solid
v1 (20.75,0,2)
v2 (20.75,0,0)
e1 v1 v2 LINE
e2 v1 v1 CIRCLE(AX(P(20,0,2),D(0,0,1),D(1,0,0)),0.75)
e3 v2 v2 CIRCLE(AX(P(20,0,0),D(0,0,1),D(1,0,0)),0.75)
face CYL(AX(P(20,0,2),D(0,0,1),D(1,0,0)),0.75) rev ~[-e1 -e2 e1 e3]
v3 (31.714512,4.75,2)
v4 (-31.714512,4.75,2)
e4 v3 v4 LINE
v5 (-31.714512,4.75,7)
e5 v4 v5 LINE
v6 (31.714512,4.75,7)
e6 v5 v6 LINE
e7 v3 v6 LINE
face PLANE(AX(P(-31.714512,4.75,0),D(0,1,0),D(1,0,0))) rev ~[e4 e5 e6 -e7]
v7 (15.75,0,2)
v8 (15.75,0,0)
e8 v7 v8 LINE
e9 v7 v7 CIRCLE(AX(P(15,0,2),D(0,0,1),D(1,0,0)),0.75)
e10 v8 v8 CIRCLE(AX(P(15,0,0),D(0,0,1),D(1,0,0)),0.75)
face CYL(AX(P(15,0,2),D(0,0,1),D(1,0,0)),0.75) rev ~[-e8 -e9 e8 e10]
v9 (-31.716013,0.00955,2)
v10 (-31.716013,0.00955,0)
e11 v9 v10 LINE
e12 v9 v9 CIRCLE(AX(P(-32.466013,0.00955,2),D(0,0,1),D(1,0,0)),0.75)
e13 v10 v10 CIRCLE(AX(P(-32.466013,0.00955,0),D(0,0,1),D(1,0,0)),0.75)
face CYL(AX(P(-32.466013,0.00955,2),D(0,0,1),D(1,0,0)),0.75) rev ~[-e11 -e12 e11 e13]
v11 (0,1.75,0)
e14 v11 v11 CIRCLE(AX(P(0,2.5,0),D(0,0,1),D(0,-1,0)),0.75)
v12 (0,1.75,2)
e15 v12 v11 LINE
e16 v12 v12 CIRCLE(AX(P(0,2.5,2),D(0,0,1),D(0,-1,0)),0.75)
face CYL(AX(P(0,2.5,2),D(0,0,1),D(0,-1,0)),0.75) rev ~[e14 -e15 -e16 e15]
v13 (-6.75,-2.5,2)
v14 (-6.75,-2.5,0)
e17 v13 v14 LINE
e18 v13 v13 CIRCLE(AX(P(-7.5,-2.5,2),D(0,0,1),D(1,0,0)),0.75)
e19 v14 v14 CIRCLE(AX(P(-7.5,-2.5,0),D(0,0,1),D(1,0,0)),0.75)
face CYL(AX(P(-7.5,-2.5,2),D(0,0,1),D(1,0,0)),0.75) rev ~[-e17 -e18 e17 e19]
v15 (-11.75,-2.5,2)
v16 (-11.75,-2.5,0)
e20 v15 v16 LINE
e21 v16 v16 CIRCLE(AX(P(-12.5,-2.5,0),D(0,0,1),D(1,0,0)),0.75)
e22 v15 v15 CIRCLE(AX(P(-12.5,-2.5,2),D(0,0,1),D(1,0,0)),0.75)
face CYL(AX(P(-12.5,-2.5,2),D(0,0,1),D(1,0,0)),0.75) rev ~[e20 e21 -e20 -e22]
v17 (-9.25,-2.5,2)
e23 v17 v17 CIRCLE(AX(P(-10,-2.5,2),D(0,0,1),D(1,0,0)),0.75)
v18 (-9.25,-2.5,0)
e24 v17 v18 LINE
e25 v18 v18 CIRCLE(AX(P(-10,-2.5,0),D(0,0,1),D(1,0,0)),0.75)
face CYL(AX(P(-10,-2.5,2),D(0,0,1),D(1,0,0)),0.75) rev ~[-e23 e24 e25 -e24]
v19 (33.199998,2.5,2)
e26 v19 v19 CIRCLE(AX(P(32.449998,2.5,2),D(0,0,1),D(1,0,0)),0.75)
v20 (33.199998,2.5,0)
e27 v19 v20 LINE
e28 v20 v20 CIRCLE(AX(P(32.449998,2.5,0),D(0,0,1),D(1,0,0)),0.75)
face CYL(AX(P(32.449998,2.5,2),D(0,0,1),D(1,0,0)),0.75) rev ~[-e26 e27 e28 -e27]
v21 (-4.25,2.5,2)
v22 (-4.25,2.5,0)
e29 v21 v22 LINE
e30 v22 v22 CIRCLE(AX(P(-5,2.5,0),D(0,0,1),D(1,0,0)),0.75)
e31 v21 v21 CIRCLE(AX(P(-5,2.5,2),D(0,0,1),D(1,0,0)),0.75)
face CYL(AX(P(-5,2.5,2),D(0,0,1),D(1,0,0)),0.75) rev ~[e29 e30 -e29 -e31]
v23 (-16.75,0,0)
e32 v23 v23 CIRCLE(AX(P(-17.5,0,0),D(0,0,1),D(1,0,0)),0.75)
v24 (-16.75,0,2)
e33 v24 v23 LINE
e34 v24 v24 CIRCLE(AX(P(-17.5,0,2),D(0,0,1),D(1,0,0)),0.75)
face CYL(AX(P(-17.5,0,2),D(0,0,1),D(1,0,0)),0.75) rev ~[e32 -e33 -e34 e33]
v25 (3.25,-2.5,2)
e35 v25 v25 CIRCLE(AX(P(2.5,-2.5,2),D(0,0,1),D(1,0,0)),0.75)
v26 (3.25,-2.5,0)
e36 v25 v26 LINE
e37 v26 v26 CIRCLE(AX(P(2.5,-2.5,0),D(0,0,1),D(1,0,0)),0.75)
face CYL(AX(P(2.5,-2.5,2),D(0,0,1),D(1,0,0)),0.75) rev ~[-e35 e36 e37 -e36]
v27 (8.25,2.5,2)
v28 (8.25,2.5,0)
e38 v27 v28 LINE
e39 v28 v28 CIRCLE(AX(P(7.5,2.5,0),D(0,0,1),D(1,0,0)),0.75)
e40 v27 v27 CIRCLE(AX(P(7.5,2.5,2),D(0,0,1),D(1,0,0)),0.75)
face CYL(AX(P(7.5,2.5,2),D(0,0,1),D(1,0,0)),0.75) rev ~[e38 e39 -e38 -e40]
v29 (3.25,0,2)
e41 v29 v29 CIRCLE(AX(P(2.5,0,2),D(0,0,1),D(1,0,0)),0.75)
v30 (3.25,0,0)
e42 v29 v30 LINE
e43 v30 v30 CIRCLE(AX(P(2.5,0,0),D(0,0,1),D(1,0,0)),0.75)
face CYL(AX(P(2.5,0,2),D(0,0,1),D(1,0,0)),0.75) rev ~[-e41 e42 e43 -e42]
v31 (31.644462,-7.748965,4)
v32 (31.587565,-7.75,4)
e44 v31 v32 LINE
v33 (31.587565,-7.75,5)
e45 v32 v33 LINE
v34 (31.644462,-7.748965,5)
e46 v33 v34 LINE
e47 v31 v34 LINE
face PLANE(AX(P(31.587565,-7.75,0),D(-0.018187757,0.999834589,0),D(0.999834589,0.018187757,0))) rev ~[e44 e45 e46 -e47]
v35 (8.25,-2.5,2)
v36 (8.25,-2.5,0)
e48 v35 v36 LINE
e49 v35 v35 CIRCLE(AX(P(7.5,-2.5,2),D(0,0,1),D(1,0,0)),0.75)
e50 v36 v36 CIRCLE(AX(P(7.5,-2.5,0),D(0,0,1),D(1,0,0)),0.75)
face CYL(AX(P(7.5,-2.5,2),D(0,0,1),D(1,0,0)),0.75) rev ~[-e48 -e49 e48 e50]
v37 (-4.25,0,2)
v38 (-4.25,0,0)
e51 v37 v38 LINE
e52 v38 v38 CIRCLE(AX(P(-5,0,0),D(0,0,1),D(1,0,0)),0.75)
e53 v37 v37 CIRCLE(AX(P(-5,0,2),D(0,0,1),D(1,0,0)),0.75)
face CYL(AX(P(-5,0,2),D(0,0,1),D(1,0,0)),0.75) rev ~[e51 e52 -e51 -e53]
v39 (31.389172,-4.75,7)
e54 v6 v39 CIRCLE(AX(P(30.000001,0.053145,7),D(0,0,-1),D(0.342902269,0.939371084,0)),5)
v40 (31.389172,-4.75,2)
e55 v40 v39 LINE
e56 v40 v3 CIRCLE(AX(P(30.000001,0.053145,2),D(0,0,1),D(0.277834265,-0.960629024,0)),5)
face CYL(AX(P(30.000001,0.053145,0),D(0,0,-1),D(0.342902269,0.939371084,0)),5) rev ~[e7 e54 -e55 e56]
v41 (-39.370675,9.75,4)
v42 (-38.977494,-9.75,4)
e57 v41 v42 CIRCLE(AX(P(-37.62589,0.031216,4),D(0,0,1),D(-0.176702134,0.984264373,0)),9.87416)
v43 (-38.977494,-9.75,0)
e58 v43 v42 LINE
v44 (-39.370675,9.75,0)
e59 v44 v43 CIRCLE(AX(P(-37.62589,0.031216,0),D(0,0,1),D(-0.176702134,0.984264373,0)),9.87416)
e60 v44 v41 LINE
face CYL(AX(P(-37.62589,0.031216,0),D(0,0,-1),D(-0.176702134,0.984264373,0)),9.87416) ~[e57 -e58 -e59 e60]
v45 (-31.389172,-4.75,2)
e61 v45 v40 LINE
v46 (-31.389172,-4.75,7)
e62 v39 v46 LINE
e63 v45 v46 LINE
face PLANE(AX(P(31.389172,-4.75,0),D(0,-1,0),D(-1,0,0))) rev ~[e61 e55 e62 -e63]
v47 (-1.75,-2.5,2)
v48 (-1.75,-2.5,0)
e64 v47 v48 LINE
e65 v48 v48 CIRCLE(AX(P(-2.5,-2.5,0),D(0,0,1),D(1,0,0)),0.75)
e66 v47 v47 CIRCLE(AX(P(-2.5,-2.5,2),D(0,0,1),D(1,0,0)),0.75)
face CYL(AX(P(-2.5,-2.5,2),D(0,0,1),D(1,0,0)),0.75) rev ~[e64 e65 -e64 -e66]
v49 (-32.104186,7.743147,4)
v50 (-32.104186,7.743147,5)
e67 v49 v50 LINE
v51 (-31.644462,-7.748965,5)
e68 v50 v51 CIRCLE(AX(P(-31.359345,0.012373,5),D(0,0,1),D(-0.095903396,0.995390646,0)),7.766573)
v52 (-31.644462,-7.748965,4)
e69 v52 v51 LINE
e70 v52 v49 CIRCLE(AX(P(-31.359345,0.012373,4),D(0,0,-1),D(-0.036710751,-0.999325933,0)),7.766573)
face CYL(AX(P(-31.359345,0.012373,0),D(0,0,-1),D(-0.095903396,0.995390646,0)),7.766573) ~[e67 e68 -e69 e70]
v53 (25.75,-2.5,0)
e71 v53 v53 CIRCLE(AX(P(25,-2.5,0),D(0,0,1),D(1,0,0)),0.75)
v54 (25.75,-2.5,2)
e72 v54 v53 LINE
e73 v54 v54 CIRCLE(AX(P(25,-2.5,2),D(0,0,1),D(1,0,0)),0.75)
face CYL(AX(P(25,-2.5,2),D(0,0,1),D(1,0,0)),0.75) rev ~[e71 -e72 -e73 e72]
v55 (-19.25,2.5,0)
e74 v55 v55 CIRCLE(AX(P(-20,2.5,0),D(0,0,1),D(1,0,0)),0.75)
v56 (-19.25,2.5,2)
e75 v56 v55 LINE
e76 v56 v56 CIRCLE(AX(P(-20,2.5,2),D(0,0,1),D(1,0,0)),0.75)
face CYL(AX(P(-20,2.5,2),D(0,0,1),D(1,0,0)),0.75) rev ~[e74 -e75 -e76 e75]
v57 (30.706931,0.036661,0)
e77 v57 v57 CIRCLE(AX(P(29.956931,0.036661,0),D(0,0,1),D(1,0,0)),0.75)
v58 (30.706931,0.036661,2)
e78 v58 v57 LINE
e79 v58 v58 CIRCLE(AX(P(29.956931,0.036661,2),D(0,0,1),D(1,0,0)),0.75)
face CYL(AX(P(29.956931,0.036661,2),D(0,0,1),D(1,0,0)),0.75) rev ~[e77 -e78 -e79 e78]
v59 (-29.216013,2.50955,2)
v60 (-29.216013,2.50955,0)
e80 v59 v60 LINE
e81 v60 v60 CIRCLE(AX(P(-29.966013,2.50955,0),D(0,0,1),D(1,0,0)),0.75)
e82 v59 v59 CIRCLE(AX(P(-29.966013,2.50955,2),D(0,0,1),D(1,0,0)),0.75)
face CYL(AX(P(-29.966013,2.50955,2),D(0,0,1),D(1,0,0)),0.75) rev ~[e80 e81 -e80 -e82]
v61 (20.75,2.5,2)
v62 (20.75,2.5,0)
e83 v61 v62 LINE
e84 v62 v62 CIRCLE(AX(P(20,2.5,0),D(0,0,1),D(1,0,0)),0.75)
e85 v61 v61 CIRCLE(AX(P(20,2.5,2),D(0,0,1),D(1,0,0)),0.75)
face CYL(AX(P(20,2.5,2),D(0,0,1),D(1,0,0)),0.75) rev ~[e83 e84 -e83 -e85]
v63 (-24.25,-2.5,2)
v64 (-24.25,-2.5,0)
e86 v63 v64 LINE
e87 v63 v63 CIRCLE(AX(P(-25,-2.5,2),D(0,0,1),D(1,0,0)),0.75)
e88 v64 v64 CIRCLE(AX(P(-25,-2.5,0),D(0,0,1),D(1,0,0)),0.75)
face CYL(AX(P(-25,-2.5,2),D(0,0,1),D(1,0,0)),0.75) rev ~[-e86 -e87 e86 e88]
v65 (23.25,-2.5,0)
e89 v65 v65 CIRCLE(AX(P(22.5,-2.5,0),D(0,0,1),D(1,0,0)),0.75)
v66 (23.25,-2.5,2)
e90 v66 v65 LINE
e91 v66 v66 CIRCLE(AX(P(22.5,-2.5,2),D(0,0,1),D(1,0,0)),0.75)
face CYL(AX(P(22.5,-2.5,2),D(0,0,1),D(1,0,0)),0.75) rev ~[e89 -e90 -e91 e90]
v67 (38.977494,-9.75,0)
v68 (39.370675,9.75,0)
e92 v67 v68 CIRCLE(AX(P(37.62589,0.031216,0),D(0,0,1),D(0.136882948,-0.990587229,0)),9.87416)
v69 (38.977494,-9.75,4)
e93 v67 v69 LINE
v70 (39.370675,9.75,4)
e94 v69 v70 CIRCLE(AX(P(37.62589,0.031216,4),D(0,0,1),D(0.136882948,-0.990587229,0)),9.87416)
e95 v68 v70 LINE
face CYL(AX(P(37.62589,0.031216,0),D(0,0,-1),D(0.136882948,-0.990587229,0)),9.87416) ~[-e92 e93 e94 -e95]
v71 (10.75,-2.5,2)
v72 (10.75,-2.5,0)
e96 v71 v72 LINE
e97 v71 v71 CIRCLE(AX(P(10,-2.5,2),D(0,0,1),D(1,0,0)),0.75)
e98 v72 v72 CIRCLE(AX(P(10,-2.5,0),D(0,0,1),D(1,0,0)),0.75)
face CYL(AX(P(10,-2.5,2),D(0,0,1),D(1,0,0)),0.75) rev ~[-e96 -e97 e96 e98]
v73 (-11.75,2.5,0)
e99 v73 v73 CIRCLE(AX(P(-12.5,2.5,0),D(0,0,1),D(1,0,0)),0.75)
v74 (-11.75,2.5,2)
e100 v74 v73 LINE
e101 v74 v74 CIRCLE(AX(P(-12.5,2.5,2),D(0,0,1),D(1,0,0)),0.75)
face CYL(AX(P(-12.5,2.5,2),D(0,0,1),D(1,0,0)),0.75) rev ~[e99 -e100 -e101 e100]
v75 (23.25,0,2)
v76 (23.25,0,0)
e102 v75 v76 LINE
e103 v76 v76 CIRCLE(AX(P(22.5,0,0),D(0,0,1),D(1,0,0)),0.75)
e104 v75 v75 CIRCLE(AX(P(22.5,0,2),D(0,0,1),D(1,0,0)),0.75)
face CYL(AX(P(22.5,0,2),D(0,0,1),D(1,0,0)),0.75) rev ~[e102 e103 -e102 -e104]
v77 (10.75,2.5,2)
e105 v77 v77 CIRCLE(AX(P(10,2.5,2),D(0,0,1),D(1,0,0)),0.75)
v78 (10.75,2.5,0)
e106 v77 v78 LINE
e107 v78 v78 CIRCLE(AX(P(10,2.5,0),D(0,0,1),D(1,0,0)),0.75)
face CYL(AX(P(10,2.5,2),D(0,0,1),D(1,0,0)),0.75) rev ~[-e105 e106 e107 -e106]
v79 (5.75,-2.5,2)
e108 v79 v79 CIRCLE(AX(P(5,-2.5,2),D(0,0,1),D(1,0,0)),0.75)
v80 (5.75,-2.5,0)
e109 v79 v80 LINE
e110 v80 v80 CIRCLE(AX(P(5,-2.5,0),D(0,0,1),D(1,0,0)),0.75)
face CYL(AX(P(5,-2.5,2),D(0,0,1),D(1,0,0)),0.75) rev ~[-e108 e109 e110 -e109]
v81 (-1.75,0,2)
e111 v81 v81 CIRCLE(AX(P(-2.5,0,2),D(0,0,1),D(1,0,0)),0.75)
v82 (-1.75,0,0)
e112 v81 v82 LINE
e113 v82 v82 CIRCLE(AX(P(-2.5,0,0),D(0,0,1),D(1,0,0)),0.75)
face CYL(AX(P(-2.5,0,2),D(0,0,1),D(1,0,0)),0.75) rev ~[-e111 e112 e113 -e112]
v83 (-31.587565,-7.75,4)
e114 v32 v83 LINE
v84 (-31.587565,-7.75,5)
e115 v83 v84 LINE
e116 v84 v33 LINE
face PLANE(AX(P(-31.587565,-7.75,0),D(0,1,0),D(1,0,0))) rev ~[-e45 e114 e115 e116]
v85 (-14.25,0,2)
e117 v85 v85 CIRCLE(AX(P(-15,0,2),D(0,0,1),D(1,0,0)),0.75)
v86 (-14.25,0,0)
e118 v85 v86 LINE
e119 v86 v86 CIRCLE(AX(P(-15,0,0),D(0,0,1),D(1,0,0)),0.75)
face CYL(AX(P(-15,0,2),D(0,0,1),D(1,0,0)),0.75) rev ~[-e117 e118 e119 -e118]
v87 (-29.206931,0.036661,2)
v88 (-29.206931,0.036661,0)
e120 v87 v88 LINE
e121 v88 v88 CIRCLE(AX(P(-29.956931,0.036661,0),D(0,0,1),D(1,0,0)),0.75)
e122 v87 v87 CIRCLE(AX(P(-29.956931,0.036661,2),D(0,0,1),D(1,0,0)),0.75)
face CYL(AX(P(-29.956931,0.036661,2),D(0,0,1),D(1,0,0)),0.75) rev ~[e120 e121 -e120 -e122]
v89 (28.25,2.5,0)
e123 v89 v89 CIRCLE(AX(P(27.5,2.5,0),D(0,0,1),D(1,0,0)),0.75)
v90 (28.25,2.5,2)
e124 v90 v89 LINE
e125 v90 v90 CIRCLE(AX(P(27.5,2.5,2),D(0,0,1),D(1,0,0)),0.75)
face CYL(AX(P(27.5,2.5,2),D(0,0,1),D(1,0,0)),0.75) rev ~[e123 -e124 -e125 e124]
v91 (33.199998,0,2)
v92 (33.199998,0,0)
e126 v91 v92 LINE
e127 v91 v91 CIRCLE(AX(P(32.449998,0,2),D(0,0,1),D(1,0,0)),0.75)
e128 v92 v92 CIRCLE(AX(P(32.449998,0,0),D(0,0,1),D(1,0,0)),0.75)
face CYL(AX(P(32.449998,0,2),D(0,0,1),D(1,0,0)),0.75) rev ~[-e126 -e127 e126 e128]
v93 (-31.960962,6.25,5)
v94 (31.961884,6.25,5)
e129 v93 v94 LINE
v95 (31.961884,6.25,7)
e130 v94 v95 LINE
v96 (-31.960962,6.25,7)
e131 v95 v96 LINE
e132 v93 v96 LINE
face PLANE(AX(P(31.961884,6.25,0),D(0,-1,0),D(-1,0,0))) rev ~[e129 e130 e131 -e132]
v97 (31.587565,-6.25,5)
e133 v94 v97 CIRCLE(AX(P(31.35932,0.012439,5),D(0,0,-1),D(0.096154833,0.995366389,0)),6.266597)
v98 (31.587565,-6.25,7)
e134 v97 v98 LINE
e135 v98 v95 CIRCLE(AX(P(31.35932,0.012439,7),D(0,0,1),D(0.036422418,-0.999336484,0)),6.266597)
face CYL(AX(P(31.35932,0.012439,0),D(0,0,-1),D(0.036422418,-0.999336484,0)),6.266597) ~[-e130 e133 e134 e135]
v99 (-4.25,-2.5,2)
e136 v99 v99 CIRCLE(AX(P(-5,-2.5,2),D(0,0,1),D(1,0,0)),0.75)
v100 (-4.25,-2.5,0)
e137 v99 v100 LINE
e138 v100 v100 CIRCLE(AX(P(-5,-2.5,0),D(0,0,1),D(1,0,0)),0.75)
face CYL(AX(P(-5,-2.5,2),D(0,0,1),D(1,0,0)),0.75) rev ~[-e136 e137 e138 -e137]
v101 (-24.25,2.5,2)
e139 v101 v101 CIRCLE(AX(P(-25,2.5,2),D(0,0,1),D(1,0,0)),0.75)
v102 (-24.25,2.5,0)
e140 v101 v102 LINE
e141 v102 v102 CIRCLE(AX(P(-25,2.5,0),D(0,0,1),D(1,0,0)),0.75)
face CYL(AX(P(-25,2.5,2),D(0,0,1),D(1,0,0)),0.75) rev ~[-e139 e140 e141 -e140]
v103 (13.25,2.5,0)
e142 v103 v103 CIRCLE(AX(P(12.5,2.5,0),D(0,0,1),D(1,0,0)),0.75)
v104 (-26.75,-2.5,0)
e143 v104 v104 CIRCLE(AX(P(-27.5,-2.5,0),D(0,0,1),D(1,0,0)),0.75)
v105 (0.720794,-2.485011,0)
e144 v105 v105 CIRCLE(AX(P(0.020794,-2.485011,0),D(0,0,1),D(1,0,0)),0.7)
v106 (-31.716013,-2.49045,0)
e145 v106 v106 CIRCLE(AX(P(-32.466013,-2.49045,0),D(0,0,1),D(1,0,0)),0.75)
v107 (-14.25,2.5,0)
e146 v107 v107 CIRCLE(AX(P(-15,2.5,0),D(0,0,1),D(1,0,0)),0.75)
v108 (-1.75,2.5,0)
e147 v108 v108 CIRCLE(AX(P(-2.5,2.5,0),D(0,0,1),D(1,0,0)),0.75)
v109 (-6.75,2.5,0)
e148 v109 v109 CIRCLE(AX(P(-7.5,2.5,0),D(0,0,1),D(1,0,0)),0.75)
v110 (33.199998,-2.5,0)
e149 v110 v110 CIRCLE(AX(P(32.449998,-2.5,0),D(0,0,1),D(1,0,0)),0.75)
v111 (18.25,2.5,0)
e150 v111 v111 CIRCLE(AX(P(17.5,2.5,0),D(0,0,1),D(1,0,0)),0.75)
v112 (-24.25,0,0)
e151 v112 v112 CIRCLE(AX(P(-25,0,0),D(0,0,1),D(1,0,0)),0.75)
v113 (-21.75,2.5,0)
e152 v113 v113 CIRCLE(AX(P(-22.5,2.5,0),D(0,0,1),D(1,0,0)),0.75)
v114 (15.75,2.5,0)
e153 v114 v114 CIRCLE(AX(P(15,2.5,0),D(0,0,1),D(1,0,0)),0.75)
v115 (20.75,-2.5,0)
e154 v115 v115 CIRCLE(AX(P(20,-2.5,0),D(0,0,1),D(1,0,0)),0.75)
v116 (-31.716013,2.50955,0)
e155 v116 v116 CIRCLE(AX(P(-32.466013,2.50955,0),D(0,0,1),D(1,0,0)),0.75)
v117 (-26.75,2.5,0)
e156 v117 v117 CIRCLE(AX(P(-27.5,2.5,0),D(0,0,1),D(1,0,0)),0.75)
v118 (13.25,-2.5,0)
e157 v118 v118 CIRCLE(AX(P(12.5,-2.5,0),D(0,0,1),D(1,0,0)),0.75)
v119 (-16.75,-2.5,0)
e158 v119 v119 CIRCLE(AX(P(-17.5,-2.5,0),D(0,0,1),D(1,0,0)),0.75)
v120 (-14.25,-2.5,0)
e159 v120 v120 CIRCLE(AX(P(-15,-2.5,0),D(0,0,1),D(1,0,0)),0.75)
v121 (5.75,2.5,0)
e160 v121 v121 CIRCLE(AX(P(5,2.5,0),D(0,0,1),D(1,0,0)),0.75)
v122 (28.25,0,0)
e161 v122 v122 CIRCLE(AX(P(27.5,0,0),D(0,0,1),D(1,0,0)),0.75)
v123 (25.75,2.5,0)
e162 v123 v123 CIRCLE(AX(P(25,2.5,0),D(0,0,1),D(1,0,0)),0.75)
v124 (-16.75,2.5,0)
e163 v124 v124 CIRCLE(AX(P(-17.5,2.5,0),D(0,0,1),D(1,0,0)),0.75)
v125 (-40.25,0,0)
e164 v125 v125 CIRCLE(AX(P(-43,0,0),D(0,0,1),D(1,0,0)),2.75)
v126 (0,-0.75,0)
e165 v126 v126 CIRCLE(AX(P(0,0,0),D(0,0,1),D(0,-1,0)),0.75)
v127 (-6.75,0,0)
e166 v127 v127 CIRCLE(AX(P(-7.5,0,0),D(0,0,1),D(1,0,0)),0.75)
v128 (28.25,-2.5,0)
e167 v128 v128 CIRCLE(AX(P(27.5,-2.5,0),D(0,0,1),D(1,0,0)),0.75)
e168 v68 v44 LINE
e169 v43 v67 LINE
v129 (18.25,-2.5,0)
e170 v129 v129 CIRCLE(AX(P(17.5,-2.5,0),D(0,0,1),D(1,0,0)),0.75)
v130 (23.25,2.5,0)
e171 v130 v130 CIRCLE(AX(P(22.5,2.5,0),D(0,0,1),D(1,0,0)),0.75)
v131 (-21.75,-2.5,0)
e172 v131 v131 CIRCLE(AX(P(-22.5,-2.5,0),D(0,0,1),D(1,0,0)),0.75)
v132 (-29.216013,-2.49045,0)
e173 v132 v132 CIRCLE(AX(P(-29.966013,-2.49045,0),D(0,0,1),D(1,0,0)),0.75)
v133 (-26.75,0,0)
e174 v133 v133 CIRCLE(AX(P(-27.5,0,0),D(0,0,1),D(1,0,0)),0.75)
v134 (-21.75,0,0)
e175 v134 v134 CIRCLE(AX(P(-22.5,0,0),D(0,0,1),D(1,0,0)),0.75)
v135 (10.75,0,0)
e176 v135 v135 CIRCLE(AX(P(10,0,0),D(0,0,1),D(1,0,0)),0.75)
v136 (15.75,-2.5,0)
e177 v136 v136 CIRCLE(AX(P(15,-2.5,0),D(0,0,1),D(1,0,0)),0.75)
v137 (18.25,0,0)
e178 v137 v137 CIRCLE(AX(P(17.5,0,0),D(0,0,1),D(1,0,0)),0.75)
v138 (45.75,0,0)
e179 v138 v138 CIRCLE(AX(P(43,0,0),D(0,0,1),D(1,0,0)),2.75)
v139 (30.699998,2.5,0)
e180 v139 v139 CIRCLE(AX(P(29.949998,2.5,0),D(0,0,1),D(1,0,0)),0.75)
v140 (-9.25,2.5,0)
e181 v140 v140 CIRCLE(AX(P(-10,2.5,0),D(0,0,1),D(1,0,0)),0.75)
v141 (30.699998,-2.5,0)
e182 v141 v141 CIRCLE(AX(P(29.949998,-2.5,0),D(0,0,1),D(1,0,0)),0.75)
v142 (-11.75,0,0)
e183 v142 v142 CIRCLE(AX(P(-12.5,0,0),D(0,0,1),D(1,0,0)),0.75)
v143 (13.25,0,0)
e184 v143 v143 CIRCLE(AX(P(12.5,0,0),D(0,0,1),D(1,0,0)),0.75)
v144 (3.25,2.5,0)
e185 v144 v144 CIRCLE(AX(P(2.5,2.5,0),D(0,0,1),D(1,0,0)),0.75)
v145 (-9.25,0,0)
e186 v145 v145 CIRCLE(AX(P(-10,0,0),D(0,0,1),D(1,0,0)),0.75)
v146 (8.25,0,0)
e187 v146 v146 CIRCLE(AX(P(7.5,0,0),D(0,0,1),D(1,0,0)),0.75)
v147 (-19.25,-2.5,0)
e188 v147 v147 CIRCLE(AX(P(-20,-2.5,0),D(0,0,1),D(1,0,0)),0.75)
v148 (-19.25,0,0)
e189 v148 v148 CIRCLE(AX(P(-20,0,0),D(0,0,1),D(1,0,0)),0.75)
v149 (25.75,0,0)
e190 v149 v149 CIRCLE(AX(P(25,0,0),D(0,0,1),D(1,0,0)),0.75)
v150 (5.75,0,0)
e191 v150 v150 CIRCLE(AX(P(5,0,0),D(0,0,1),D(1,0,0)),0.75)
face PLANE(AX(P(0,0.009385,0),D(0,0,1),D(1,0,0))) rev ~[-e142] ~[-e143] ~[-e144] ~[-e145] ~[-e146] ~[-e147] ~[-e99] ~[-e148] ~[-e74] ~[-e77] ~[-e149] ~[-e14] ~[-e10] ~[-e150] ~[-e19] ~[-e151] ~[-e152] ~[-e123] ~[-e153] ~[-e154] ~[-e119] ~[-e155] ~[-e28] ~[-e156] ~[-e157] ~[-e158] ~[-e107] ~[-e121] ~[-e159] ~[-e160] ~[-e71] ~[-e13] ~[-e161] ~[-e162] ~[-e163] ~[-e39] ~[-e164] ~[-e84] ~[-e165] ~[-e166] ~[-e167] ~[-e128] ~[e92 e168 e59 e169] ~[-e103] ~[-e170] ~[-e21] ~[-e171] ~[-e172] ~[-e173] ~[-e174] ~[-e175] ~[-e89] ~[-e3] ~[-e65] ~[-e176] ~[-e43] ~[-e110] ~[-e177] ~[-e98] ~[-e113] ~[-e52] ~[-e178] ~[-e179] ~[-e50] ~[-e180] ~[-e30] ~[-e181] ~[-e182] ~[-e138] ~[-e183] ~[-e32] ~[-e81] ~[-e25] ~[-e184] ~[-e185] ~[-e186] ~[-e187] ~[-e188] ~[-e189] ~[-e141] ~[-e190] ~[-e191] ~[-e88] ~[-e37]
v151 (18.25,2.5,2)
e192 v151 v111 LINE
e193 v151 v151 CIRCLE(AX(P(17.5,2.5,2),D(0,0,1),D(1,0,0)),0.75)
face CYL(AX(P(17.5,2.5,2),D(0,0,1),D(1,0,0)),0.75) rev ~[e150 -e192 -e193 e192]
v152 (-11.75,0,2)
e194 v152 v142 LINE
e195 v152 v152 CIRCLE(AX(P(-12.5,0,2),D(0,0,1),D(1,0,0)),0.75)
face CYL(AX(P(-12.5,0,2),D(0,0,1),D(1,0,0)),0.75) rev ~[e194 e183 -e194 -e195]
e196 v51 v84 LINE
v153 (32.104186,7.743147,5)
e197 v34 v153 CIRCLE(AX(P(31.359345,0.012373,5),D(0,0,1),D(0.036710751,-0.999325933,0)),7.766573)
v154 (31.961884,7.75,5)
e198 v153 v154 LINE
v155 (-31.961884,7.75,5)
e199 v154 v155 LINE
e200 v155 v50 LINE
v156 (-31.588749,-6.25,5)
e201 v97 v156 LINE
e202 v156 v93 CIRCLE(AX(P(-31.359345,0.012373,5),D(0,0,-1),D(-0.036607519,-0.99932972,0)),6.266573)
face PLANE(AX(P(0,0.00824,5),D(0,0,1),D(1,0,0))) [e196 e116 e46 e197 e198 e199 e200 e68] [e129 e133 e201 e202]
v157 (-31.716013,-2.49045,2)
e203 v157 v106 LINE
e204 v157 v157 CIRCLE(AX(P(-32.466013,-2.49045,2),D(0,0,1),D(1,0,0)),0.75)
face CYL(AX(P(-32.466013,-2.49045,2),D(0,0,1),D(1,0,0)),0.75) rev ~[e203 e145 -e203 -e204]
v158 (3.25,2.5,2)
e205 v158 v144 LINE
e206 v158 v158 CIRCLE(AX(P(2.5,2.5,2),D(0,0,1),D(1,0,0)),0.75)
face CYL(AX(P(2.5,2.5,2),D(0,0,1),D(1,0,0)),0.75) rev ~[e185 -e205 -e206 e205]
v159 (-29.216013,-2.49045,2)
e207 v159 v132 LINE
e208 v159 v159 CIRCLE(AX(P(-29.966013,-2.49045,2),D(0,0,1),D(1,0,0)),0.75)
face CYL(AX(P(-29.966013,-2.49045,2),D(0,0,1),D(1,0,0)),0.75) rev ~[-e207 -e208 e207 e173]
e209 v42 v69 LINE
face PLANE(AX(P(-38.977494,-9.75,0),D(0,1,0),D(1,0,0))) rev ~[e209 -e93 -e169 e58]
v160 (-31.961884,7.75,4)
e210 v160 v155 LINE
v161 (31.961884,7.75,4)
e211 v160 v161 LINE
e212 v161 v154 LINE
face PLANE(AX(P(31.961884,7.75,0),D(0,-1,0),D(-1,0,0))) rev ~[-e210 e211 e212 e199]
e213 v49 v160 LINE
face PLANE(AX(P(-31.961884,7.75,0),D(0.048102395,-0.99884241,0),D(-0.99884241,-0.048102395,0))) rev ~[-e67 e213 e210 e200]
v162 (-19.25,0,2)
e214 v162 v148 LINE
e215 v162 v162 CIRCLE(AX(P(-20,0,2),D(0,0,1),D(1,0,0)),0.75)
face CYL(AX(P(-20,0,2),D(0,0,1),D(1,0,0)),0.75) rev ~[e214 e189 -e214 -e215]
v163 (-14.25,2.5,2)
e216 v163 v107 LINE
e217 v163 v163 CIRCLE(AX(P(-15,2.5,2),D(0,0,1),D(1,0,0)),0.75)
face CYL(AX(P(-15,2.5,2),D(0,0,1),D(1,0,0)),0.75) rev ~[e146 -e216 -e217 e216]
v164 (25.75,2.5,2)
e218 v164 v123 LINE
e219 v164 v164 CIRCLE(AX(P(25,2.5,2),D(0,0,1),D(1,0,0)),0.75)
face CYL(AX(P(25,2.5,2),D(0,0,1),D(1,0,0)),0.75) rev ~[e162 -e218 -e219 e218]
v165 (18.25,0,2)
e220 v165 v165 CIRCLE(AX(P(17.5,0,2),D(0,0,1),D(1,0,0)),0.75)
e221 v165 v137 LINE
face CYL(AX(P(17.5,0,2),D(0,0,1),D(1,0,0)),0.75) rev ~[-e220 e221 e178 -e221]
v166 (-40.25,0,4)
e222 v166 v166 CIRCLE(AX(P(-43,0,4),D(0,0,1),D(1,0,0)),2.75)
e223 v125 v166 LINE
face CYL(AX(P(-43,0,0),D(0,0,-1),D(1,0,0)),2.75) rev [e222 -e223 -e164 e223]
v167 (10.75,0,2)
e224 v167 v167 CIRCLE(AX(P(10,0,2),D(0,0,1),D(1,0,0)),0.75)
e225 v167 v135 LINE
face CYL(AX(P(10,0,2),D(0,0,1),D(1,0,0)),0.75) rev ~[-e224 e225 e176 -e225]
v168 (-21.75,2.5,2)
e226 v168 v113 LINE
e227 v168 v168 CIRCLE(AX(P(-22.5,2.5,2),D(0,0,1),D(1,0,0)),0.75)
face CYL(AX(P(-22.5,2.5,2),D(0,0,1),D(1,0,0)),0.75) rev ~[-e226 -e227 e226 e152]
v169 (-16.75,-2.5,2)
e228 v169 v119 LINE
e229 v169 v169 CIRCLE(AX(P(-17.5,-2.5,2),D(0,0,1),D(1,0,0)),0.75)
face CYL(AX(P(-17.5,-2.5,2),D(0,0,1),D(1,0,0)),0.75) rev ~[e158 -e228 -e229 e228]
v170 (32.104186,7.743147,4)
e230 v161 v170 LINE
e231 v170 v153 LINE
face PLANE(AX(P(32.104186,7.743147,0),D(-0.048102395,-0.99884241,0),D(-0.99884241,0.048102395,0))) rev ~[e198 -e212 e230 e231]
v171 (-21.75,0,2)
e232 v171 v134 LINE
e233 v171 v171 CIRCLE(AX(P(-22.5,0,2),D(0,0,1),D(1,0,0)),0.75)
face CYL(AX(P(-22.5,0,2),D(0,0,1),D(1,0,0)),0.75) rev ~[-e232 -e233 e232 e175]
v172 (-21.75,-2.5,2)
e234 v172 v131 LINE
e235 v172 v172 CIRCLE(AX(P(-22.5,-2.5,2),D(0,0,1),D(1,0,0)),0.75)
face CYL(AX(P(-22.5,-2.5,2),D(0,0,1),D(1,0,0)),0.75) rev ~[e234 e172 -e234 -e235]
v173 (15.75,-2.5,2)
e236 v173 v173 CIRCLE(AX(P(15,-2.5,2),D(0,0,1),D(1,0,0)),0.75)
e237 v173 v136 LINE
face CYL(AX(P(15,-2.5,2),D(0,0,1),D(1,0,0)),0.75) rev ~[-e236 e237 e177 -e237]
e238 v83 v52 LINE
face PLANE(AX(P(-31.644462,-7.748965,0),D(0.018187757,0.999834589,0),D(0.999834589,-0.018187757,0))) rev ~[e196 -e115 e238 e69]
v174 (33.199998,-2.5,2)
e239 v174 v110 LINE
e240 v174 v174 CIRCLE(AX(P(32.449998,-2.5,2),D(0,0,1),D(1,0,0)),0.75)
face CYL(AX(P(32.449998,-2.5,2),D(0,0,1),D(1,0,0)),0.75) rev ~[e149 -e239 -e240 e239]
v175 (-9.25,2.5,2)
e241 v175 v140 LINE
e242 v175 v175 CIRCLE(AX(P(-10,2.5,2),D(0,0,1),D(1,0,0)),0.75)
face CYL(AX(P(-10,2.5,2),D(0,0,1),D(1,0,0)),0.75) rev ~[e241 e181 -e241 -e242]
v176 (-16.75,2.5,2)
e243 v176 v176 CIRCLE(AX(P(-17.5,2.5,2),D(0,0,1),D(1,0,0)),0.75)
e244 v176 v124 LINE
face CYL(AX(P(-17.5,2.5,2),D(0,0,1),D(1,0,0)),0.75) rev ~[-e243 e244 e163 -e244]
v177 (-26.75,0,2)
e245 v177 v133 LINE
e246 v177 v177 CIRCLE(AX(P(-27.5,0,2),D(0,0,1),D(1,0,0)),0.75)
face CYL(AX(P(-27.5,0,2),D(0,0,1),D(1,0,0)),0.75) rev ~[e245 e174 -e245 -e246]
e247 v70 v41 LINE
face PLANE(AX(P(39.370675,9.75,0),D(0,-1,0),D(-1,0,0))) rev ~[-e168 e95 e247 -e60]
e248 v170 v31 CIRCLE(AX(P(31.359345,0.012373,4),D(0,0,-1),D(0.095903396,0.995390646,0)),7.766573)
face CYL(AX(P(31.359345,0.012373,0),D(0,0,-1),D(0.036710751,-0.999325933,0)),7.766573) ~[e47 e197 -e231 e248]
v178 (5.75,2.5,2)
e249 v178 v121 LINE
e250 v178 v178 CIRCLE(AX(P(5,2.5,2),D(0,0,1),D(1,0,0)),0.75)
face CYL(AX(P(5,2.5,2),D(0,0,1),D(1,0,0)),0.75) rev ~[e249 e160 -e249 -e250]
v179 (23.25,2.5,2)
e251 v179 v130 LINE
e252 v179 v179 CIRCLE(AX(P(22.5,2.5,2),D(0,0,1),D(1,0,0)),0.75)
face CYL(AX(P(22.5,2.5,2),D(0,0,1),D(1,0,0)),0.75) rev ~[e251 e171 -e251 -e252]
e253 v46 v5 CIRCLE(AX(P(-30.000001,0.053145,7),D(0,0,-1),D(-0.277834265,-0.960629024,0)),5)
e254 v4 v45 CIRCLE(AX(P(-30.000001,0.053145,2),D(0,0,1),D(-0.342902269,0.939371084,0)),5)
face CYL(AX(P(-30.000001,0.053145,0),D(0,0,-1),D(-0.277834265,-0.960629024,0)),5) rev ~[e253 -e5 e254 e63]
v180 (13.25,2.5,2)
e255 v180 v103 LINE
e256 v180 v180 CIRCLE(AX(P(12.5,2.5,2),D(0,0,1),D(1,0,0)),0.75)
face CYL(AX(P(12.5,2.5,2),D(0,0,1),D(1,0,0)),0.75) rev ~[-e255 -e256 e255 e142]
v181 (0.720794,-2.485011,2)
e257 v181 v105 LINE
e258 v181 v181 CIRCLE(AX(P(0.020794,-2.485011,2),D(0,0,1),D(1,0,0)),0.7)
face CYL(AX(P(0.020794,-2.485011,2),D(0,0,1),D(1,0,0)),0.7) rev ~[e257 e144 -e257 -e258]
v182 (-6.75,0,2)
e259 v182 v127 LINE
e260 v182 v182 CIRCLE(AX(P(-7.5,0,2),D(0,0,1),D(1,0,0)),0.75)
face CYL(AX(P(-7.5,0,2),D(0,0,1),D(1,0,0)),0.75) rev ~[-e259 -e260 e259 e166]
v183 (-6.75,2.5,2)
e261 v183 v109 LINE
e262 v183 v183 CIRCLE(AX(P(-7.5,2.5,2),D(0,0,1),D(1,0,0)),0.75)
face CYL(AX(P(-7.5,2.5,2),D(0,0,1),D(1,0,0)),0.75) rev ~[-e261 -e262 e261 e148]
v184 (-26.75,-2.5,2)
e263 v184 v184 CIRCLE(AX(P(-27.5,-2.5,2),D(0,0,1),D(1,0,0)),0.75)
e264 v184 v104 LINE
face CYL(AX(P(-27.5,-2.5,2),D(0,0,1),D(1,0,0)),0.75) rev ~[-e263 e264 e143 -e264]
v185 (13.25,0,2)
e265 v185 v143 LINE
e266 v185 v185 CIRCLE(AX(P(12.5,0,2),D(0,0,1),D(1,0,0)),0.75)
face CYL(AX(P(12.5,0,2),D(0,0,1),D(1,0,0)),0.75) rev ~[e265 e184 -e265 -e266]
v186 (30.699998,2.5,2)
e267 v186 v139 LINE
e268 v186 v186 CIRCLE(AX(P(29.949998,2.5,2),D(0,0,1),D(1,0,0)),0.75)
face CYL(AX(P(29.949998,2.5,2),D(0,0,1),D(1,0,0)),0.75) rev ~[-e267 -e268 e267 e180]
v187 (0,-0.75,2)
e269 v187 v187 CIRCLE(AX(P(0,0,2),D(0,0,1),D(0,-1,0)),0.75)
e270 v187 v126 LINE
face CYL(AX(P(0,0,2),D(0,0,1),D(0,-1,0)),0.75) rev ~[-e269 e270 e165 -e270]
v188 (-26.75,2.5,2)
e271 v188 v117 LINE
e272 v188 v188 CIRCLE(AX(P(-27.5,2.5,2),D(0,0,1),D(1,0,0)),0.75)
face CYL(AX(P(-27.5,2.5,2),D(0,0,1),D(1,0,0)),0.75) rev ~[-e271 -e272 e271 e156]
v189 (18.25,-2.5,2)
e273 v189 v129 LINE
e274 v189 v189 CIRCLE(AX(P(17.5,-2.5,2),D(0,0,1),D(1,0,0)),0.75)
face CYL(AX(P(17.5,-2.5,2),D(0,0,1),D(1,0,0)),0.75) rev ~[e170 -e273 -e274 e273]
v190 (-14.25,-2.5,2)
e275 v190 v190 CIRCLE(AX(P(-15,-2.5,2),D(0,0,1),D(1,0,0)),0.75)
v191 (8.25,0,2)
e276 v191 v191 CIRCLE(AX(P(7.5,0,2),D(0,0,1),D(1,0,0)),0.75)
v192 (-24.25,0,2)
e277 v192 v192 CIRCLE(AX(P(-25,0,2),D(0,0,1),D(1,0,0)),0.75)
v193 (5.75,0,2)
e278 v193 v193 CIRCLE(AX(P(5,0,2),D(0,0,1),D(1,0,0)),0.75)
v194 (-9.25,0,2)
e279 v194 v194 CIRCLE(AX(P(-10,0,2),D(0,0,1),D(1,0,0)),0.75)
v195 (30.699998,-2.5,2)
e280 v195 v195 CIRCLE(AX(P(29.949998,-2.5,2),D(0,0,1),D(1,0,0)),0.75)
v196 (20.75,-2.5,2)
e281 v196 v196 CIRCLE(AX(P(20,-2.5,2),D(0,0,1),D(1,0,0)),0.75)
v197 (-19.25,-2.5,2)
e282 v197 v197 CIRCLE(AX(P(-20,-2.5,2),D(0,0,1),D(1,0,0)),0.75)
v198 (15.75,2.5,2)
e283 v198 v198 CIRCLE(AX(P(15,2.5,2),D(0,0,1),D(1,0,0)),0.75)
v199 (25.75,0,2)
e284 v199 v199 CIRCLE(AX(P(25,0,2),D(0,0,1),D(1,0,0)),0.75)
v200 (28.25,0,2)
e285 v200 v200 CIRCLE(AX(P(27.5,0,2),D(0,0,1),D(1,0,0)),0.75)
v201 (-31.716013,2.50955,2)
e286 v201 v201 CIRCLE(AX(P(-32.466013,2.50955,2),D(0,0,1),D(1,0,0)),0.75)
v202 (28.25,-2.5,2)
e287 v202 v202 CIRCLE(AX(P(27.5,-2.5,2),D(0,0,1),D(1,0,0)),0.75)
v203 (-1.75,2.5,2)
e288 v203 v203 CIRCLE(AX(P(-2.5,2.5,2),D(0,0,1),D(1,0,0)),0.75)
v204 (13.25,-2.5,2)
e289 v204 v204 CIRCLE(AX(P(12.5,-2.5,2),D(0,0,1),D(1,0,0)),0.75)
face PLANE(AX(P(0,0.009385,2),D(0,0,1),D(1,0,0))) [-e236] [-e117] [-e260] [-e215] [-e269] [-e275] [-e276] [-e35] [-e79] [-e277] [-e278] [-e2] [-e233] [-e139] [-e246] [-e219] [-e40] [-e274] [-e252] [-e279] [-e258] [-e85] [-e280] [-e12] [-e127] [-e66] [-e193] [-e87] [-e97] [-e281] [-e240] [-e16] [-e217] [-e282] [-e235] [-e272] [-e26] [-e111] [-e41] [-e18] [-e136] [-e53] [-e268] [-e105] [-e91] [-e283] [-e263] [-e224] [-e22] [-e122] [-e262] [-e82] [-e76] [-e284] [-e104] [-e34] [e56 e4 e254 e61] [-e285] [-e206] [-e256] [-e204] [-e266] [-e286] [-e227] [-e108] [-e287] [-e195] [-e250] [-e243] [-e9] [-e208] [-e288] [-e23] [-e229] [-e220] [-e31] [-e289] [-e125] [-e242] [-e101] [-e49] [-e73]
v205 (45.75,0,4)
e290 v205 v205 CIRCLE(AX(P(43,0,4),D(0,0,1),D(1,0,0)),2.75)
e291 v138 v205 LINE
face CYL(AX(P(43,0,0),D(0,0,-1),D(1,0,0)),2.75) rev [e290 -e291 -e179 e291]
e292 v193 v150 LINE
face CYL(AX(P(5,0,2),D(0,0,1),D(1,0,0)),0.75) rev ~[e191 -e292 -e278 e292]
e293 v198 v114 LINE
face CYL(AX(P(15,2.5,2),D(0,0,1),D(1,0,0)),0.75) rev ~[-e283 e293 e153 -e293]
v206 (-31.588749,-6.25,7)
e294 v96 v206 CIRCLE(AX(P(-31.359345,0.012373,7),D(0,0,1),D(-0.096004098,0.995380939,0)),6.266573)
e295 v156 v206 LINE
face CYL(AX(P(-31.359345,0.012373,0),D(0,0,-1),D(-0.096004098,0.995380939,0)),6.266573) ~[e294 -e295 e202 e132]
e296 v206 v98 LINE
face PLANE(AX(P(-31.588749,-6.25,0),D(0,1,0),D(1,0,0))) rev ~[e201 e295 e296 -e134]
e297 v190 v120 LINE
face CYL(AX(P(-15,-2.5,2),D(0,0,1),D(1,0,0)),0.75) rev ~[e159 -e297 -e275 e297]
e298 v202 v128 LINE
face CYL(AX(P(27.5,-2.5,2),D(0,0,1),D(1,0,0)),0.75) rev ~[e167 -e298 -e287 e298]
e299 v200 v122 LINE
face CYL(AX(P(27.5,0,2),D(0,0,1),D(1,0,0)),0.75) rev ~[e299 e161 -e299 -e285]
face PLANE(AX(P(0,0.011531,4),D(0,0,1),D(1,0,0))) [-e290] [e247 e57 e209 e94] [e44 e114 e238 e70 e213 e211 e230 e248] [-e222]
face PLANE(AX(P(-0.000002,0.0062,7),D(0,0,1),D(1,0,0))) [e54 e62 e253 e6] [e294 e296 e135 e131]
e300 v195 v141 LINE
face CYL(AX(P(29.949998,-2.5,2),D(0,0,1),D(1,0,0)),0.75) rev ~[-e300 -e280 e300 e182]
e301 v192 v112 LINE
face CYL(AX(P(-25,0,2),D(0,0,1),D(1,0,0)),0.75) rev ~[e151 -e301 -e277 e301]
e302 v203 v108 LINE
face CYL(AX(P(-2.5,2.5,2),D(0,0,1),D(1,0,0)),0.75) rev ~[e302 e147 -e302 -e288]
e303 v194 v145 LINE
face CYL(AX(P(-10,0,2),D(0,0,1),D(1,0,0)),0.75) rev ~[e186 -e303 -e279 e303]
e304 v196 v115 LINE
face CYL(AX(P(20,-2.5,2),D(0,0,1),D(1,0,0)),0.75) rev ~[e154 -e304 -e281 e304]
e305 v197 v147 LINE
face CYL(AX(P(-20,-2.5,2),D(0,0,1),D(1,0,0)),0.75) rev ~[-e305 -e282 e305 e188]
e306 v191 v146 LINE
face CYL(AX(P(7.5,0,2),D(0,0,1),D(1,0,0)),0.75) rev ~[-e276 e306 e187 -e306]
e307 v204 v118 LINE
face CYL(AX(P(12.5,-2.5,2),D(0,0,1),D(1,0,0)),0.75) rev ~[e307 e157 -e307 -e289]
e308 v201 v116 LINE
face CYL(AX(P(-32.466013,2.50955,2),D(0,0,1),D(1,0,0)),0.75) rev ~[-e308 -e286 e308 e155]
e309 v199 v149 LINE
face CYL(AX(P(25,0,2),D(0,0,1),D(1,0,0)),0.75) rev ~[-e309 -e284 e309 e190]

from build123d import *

# Parameters (mm, degrees)
F0_R     = 2.75
F1_DEPTH = 4
F2_DEPTH = 5
F3_DEPTH = 7
F4_DEPTH = 2
F5_R     = 0.75
F5_R_2   = 0.7
F6_DEPTH = 25


with BuildPart() as f1:
    # F0 (on Top) → F1 (new body)
    with BuildSketch(Plane.XY):
        with BuildLine():
            Line((-38.977494, -9.75), (0, -9.75))
            Line((0, -9.75), (38.977494, -9.75))
            ThreePointArc((38.977494, -9.75), (47.498043, -0.167837), (39.370675, 9.75))
            Line((39.370675, 9.75), (0, 9.75))
            Line((0, 9.75), (-39.370675, 9.75))
            ThreePointArc((-39.370675, 9.75), (-47.498043, -0.167837), (-38.977494, -9.75))
        make_face()
        with Locations((-43, 0)):
            Circle(F0_R, mode=Mode.SUBTRACT)
        with BuildLine():
            ThreePointArc((-31.644462, -7.748965), (-39.122501, -0.217996), (-32.104186, 7.743147))
            Line((-32.104186, 7.743147), (-31.961884, 7.75))
            Line((-31.961884, 7.75), (0, 7.75))
            Line((0, 7.75), (31.961884, 7.75))
            Line((31.961884, 7.75), (32.104186, 7.743147))
            ThreePointArc((32.104186, 7.743147), (39.122501, -0.217996), (31.644462, -7.748965))
            Line((31.644462, -7.748965), (31.587565, -7.75))
            Line((31.587565, -7.75), (0.328864, -7.75))
            Line((0.328864, -7.75), (-0.328864, -7.75))
            Line((-0.328864, -7.75), (-31.587565, -7.75))
            Line((-31.587565, -7.75), (-31.644462, -7.748965))
        make_face(mode=Mode.SUBTRACT)
        with Locations((43, 0)):
            Circle(F0_R, mode=Mode.SUBTRACT)
    extrude(amount=F1_DEPTH)

    # F0 (on Top) → F2 (join)
    with BuildSketch(Plane.XY):
        with BuildLine():
            Line((-31.961884, 7.75), (-32.104186, 7.743147))
            ThreePointArc((-32.104186, 7.743147), (-39.122501, -0.217996), (-31.644462, -7.748965))
            Line((-31.644462, -7.748965), (-31.587565, -7.75))
            Line((-31.587565, -7.75), (-0.328864, -7.75))
            Line((-0.328864, -7.75), (0.328864, -7.75))
            Line((0.328864, -7.75), (31.587565, -7.75))
            Line((31.587565, -7.75), (31.644462, -7.748965))
            ThreePointArc((31.644462, -7.748965), (39.122501, -0.217996), (32.104186, 7.743147))
            Line((32.104186, 7.743147), (31.961884, 7.75))
            Line((31.961884, 7.75), (0, 7.75))
            Line((0, 7.75), (-31.961884, 7.75))
        make_face()
        with BuildLine():
            Line((31.587565, -6.25), (-0.328864, -6.25))
            Line((-0.328864, -6.25), (-5.279422, -6.25))
            Line((-5.279422, -6.25), (-31.588749, -6.25))
            ThreePointArc((-31.588749, -6.25), (-37.623142, -0.174144), (-31.960962, 6.25))
            Line((-31.960962, 6.25), (0, 6.25))
            Line((0, 6.25), (31.961884, 6.25))
            ThreePointArc((31.961884, 6.25), (37.62311, -0.175133), (31.587565, -6.25))
        make_face(mode=Mode.SUBTRACT)
    extrude(amount=F2_DEPTH)

    # F0 (on Top) → F3 (join)
    with BuildSketch(Plane.XY):
        with BuildLine():
            Line((-5.279422, -6.25), (-0.328864, -6.25))
            Line((-0.328864, -6.25), (31.587565, -6.25))
            ThreePointArc((31.587565, -6.25), (37.62311, -0.175133), (31.961884, 6.25))
            Line((31.961884, 6.25), (0, 6.25))
            Line((0, 6.25), (-31.960962, 6.25))
            ThreePointArc((-31.960962, 6.25), (-37.623142, -0.174144), (-31.588749, -6.25))
            Line((-31.588749, -6.25), (-5.279422, -6.25))
        make_face()
        with BuildLine():
            Line((31.389172, -4.75), (-0.328864, -4.75))
            Line((-0.328864, -4.75), (-5.279422, -4.75))
            Line((-5.279422, -4.75), (-31.389172, -4.75))
            ThreePointArc((-31.389172, -4.75), (-34.997071, -0.117987), (-31.714512, 4.75))
            Line((-31.714512, 4.75), (0, 4.75))
            Line((0, 4.75), (31.714512, 4.75))
            ThreePointArc((31.714512, 4.75), (34.997071, -0.117987), (31.389172, -4.75))
        make_face(mode=Mode.SUBTRACT)
    extrude(amount=F3_DEPTH)

    # F0 (on Top) → F4 (join)
    with BuildSketch(Plane.XY):
        with BuildLine():
            Line((-5.279422, -4.75), (-0.328864, -4.75))
            Line((-0.328864, -4.75), (31.389172, -4.75))
            ThreePointArc((31.389172, -4.75), (34.997071, -0.117987), (31.714512, 4.75))
            Line((31.714512, 4.75), (0, 4.75))
            Line((0, 4.75), (-31.714512, 4.75))
            ThreePointArc((-31.714512, 4.75), (-34.997071, -0.117987), (-31.389172, -4.75))
            Line((-31.389172, -4.75), (-5.279422, -4.75))
        make_face()
    extrude(amount=F4_DEPTH)

    # F5 (on face) → F6 (cut)
    with BuildSketch(Plane.XY.offset(2)):
        with BuildLine():
            ThreePointArc((0, 0.75), (-0.75, 0), (0, -0.75))
            ThreePointArc((0, -0.75), (0.75, 0), (0, 0.75))
        make_face()
        with BuildLine():
            ThreePointArc((0, 3.25), (-0.75, 2.5), (0, 1.75))
            ThreePointArc((0, 1.75), (0.75, 2.5), (0, 3.25))
        make_face()
        with Locations((2.5, 0)):
            Circle(F5_R)
        with Locations((2.5, 2.5)):
            Circle(F5_R)
        with Locations((5, 0)):
            Circle(F5_R)
        with Locations((5, 2.5)):
            Circle(F5_R)
        with Locations((7.5, 0)):
            Circle(F5_R)
        with Locations((7.5, 2.5)):
            Circle(F5_R)
        with Locations((10, 0)):
            Circle(F5_R)
        with Locations((10, 2.5)):
            Circle(F5_R)
        with Locations((12.5, 0)):
            Circle(F5_R)
        with Locations((12.5, 2.5)):
            Circle(F5_R)
        with Locations((15, 0)):
            Circle(F5_R)
        with Locations((15, 2.5)):
            Circle(F5_R)
        with Locations((17.5, 0)):
            Circle(F5_R)
        with Locations((17.5, 2.5)):
            Circle(F5_R)
        with Locations((20, 0)):
            Circle(F5_R)
        with Locations((20, 2.5)):
            Circle(F5_R)
        with Locations((22.5, 0)):
            Circle(F5_R)
        with Locations((22.5, 2.5)):
            Circle(F5_R)
        with Locations((25, 0)):
            Circle(F5_R)
        with Locations((25, 2.5)):
            Circle(F5_R)
        with Locations((27.5, 0)):
            Circle(F5_R)
        with Locations((27.5, 2.5)):
            Circle(F5_R)
        with Locations((2.5, -2.5)):
            Circle(F5_R)
        with Locations((5, -2.5)):
            Circle(F5_R)
        with Locations((7.5, -2.5)):
            Circle(F5_R)
        with Locations((10, -2.5)):
            Circle(F5_R)
        with Locations((12.5, -2.5)):
            Circle(F5_R)
        with Locations((15, -2.5)):
            Circle(F5_R)
        with Locations((17.5, -2.5)):
            Circle(F5_R)
        with Locations((20, -2.5)):
            Circle(F5_R)
        with Locations((22.5, -2.5)):
            Circle(F5_R)
        with Locations((25, -2.5)):
            Circle(F5_R)
        with Locations((27.5, -2.5)):
            Circle(F5_R)
        with Locations((-12.5, 0)):
            Circle(F5_R)
        with Locations((-17.5, 0)):
            Circle(F5_R)
        with Locations((-7.5, 0)):
            Circle(F5_R)
        with Locations((-5, 0)):
            Circle(F5_R)
        with Locations((-15, 0)):
            Circle(F5_R)
        with Locations((-20, 0)):
            Circle(F5_R)
        with Locations((-10, 0)):
            Circle(F5_R)
        with Locations((-12.5, 2.5)):
            Circle(F5_R)
        with Locations((-10, 2.5)):
            Circle(F5_R)
        with Locations((-7.5, 2.5)):
            Circle(F5_R)
        with Locations((-5, 2.5)):
            Circle(F5_R)
        with Locations((-2.5, 0)):
            Circle(F5_R)
        with Locations((-2.5, 2.5)):
            Circle(F5_R)
        with Locations((-17.5, 2.5)):
            Circle(F5_R)
        with Locations((-15, 2.5)):
            Circle(F5_R)
        with Locations((-20, 2.5)):
            Circle(F5_R)
        with Locations((-27.5, 0)):
            Circle(F5_R)
        with Locations((-22.5, 0)):
            Circle(F5_R)
        with Locations((-25, 0)):
            Circle(F5_R)
        with Locations((-27.5, -2.5)):
            Circle(F5_R)
        with Locations((-25, 2.5)):
            Circle(F5_R)
        with Locations((-22.5, 2.5)):
            Circle(F5_R)
        with Locations((-17.5, -2.5)):
            Circle(F5_R)
        with Locations((-27.5, 2.5)):
            Circle(F5_R)
        with Locations((-20, -2.5)):
            Circle(F5_R)
        with Locations((-22.5, -2.5)):
            Circle(F5_R)
        with Locations((-25, -2.5)):
            Circle(F5_R)
        with Locations((-2.5, -2.5)):
            Circle(F5_R)
        with Locations((-5, -2.5)):
            Circle(F5_R)
        with Locations((-7.5, -2.5)):
            Circle(F5_R)
        with Locations((-10, -2.5)):
            Circle(F5_R)
        with Locations((-12.5, -2.5)):
            Circle(F5_R)
        with Locations((-15, -2.5)):
            Circle(F5_R)
        with Locations((0.020794, -2.485011)):
            Circle(F5_R_2)
        with Locations((-29.956931, 0.036661)):
            Circle(F5_R)
        with Locations((29.956931, 0.036661)):
            Circle(F5_R)
        with Locations((29.949998, 2.5)):
            Circle(F5_R)
        with Locations((32.449998, 2.5)):
            Circle(F5_R)
        with Locations((29.949998, -2.5)):
            Circle(F5_R)
        with Locations((32.449998, 0)):
            Circle(F5_R)
        with Locations((32.449998, -2.5)):
            Circle(F5_R)
        with Locations((-32.466013, 0.00955)):
            Circle(F5_R)
        with Locations((-32.466013, -2.49045)):
            Circle(F5_R)
        with Locations((-29.966013, 2.50955)):
            Circle(F5_R)
        with Locations((-32.466013, 2.50955)):
            Circle(F5_R)
        with Locations((-29.966013, -2.49045)):
            Circle(F5_R)
    extrude(amount=-F6_DEPTH, mode=Mode.SUBTRACT)


solid = f1.part
